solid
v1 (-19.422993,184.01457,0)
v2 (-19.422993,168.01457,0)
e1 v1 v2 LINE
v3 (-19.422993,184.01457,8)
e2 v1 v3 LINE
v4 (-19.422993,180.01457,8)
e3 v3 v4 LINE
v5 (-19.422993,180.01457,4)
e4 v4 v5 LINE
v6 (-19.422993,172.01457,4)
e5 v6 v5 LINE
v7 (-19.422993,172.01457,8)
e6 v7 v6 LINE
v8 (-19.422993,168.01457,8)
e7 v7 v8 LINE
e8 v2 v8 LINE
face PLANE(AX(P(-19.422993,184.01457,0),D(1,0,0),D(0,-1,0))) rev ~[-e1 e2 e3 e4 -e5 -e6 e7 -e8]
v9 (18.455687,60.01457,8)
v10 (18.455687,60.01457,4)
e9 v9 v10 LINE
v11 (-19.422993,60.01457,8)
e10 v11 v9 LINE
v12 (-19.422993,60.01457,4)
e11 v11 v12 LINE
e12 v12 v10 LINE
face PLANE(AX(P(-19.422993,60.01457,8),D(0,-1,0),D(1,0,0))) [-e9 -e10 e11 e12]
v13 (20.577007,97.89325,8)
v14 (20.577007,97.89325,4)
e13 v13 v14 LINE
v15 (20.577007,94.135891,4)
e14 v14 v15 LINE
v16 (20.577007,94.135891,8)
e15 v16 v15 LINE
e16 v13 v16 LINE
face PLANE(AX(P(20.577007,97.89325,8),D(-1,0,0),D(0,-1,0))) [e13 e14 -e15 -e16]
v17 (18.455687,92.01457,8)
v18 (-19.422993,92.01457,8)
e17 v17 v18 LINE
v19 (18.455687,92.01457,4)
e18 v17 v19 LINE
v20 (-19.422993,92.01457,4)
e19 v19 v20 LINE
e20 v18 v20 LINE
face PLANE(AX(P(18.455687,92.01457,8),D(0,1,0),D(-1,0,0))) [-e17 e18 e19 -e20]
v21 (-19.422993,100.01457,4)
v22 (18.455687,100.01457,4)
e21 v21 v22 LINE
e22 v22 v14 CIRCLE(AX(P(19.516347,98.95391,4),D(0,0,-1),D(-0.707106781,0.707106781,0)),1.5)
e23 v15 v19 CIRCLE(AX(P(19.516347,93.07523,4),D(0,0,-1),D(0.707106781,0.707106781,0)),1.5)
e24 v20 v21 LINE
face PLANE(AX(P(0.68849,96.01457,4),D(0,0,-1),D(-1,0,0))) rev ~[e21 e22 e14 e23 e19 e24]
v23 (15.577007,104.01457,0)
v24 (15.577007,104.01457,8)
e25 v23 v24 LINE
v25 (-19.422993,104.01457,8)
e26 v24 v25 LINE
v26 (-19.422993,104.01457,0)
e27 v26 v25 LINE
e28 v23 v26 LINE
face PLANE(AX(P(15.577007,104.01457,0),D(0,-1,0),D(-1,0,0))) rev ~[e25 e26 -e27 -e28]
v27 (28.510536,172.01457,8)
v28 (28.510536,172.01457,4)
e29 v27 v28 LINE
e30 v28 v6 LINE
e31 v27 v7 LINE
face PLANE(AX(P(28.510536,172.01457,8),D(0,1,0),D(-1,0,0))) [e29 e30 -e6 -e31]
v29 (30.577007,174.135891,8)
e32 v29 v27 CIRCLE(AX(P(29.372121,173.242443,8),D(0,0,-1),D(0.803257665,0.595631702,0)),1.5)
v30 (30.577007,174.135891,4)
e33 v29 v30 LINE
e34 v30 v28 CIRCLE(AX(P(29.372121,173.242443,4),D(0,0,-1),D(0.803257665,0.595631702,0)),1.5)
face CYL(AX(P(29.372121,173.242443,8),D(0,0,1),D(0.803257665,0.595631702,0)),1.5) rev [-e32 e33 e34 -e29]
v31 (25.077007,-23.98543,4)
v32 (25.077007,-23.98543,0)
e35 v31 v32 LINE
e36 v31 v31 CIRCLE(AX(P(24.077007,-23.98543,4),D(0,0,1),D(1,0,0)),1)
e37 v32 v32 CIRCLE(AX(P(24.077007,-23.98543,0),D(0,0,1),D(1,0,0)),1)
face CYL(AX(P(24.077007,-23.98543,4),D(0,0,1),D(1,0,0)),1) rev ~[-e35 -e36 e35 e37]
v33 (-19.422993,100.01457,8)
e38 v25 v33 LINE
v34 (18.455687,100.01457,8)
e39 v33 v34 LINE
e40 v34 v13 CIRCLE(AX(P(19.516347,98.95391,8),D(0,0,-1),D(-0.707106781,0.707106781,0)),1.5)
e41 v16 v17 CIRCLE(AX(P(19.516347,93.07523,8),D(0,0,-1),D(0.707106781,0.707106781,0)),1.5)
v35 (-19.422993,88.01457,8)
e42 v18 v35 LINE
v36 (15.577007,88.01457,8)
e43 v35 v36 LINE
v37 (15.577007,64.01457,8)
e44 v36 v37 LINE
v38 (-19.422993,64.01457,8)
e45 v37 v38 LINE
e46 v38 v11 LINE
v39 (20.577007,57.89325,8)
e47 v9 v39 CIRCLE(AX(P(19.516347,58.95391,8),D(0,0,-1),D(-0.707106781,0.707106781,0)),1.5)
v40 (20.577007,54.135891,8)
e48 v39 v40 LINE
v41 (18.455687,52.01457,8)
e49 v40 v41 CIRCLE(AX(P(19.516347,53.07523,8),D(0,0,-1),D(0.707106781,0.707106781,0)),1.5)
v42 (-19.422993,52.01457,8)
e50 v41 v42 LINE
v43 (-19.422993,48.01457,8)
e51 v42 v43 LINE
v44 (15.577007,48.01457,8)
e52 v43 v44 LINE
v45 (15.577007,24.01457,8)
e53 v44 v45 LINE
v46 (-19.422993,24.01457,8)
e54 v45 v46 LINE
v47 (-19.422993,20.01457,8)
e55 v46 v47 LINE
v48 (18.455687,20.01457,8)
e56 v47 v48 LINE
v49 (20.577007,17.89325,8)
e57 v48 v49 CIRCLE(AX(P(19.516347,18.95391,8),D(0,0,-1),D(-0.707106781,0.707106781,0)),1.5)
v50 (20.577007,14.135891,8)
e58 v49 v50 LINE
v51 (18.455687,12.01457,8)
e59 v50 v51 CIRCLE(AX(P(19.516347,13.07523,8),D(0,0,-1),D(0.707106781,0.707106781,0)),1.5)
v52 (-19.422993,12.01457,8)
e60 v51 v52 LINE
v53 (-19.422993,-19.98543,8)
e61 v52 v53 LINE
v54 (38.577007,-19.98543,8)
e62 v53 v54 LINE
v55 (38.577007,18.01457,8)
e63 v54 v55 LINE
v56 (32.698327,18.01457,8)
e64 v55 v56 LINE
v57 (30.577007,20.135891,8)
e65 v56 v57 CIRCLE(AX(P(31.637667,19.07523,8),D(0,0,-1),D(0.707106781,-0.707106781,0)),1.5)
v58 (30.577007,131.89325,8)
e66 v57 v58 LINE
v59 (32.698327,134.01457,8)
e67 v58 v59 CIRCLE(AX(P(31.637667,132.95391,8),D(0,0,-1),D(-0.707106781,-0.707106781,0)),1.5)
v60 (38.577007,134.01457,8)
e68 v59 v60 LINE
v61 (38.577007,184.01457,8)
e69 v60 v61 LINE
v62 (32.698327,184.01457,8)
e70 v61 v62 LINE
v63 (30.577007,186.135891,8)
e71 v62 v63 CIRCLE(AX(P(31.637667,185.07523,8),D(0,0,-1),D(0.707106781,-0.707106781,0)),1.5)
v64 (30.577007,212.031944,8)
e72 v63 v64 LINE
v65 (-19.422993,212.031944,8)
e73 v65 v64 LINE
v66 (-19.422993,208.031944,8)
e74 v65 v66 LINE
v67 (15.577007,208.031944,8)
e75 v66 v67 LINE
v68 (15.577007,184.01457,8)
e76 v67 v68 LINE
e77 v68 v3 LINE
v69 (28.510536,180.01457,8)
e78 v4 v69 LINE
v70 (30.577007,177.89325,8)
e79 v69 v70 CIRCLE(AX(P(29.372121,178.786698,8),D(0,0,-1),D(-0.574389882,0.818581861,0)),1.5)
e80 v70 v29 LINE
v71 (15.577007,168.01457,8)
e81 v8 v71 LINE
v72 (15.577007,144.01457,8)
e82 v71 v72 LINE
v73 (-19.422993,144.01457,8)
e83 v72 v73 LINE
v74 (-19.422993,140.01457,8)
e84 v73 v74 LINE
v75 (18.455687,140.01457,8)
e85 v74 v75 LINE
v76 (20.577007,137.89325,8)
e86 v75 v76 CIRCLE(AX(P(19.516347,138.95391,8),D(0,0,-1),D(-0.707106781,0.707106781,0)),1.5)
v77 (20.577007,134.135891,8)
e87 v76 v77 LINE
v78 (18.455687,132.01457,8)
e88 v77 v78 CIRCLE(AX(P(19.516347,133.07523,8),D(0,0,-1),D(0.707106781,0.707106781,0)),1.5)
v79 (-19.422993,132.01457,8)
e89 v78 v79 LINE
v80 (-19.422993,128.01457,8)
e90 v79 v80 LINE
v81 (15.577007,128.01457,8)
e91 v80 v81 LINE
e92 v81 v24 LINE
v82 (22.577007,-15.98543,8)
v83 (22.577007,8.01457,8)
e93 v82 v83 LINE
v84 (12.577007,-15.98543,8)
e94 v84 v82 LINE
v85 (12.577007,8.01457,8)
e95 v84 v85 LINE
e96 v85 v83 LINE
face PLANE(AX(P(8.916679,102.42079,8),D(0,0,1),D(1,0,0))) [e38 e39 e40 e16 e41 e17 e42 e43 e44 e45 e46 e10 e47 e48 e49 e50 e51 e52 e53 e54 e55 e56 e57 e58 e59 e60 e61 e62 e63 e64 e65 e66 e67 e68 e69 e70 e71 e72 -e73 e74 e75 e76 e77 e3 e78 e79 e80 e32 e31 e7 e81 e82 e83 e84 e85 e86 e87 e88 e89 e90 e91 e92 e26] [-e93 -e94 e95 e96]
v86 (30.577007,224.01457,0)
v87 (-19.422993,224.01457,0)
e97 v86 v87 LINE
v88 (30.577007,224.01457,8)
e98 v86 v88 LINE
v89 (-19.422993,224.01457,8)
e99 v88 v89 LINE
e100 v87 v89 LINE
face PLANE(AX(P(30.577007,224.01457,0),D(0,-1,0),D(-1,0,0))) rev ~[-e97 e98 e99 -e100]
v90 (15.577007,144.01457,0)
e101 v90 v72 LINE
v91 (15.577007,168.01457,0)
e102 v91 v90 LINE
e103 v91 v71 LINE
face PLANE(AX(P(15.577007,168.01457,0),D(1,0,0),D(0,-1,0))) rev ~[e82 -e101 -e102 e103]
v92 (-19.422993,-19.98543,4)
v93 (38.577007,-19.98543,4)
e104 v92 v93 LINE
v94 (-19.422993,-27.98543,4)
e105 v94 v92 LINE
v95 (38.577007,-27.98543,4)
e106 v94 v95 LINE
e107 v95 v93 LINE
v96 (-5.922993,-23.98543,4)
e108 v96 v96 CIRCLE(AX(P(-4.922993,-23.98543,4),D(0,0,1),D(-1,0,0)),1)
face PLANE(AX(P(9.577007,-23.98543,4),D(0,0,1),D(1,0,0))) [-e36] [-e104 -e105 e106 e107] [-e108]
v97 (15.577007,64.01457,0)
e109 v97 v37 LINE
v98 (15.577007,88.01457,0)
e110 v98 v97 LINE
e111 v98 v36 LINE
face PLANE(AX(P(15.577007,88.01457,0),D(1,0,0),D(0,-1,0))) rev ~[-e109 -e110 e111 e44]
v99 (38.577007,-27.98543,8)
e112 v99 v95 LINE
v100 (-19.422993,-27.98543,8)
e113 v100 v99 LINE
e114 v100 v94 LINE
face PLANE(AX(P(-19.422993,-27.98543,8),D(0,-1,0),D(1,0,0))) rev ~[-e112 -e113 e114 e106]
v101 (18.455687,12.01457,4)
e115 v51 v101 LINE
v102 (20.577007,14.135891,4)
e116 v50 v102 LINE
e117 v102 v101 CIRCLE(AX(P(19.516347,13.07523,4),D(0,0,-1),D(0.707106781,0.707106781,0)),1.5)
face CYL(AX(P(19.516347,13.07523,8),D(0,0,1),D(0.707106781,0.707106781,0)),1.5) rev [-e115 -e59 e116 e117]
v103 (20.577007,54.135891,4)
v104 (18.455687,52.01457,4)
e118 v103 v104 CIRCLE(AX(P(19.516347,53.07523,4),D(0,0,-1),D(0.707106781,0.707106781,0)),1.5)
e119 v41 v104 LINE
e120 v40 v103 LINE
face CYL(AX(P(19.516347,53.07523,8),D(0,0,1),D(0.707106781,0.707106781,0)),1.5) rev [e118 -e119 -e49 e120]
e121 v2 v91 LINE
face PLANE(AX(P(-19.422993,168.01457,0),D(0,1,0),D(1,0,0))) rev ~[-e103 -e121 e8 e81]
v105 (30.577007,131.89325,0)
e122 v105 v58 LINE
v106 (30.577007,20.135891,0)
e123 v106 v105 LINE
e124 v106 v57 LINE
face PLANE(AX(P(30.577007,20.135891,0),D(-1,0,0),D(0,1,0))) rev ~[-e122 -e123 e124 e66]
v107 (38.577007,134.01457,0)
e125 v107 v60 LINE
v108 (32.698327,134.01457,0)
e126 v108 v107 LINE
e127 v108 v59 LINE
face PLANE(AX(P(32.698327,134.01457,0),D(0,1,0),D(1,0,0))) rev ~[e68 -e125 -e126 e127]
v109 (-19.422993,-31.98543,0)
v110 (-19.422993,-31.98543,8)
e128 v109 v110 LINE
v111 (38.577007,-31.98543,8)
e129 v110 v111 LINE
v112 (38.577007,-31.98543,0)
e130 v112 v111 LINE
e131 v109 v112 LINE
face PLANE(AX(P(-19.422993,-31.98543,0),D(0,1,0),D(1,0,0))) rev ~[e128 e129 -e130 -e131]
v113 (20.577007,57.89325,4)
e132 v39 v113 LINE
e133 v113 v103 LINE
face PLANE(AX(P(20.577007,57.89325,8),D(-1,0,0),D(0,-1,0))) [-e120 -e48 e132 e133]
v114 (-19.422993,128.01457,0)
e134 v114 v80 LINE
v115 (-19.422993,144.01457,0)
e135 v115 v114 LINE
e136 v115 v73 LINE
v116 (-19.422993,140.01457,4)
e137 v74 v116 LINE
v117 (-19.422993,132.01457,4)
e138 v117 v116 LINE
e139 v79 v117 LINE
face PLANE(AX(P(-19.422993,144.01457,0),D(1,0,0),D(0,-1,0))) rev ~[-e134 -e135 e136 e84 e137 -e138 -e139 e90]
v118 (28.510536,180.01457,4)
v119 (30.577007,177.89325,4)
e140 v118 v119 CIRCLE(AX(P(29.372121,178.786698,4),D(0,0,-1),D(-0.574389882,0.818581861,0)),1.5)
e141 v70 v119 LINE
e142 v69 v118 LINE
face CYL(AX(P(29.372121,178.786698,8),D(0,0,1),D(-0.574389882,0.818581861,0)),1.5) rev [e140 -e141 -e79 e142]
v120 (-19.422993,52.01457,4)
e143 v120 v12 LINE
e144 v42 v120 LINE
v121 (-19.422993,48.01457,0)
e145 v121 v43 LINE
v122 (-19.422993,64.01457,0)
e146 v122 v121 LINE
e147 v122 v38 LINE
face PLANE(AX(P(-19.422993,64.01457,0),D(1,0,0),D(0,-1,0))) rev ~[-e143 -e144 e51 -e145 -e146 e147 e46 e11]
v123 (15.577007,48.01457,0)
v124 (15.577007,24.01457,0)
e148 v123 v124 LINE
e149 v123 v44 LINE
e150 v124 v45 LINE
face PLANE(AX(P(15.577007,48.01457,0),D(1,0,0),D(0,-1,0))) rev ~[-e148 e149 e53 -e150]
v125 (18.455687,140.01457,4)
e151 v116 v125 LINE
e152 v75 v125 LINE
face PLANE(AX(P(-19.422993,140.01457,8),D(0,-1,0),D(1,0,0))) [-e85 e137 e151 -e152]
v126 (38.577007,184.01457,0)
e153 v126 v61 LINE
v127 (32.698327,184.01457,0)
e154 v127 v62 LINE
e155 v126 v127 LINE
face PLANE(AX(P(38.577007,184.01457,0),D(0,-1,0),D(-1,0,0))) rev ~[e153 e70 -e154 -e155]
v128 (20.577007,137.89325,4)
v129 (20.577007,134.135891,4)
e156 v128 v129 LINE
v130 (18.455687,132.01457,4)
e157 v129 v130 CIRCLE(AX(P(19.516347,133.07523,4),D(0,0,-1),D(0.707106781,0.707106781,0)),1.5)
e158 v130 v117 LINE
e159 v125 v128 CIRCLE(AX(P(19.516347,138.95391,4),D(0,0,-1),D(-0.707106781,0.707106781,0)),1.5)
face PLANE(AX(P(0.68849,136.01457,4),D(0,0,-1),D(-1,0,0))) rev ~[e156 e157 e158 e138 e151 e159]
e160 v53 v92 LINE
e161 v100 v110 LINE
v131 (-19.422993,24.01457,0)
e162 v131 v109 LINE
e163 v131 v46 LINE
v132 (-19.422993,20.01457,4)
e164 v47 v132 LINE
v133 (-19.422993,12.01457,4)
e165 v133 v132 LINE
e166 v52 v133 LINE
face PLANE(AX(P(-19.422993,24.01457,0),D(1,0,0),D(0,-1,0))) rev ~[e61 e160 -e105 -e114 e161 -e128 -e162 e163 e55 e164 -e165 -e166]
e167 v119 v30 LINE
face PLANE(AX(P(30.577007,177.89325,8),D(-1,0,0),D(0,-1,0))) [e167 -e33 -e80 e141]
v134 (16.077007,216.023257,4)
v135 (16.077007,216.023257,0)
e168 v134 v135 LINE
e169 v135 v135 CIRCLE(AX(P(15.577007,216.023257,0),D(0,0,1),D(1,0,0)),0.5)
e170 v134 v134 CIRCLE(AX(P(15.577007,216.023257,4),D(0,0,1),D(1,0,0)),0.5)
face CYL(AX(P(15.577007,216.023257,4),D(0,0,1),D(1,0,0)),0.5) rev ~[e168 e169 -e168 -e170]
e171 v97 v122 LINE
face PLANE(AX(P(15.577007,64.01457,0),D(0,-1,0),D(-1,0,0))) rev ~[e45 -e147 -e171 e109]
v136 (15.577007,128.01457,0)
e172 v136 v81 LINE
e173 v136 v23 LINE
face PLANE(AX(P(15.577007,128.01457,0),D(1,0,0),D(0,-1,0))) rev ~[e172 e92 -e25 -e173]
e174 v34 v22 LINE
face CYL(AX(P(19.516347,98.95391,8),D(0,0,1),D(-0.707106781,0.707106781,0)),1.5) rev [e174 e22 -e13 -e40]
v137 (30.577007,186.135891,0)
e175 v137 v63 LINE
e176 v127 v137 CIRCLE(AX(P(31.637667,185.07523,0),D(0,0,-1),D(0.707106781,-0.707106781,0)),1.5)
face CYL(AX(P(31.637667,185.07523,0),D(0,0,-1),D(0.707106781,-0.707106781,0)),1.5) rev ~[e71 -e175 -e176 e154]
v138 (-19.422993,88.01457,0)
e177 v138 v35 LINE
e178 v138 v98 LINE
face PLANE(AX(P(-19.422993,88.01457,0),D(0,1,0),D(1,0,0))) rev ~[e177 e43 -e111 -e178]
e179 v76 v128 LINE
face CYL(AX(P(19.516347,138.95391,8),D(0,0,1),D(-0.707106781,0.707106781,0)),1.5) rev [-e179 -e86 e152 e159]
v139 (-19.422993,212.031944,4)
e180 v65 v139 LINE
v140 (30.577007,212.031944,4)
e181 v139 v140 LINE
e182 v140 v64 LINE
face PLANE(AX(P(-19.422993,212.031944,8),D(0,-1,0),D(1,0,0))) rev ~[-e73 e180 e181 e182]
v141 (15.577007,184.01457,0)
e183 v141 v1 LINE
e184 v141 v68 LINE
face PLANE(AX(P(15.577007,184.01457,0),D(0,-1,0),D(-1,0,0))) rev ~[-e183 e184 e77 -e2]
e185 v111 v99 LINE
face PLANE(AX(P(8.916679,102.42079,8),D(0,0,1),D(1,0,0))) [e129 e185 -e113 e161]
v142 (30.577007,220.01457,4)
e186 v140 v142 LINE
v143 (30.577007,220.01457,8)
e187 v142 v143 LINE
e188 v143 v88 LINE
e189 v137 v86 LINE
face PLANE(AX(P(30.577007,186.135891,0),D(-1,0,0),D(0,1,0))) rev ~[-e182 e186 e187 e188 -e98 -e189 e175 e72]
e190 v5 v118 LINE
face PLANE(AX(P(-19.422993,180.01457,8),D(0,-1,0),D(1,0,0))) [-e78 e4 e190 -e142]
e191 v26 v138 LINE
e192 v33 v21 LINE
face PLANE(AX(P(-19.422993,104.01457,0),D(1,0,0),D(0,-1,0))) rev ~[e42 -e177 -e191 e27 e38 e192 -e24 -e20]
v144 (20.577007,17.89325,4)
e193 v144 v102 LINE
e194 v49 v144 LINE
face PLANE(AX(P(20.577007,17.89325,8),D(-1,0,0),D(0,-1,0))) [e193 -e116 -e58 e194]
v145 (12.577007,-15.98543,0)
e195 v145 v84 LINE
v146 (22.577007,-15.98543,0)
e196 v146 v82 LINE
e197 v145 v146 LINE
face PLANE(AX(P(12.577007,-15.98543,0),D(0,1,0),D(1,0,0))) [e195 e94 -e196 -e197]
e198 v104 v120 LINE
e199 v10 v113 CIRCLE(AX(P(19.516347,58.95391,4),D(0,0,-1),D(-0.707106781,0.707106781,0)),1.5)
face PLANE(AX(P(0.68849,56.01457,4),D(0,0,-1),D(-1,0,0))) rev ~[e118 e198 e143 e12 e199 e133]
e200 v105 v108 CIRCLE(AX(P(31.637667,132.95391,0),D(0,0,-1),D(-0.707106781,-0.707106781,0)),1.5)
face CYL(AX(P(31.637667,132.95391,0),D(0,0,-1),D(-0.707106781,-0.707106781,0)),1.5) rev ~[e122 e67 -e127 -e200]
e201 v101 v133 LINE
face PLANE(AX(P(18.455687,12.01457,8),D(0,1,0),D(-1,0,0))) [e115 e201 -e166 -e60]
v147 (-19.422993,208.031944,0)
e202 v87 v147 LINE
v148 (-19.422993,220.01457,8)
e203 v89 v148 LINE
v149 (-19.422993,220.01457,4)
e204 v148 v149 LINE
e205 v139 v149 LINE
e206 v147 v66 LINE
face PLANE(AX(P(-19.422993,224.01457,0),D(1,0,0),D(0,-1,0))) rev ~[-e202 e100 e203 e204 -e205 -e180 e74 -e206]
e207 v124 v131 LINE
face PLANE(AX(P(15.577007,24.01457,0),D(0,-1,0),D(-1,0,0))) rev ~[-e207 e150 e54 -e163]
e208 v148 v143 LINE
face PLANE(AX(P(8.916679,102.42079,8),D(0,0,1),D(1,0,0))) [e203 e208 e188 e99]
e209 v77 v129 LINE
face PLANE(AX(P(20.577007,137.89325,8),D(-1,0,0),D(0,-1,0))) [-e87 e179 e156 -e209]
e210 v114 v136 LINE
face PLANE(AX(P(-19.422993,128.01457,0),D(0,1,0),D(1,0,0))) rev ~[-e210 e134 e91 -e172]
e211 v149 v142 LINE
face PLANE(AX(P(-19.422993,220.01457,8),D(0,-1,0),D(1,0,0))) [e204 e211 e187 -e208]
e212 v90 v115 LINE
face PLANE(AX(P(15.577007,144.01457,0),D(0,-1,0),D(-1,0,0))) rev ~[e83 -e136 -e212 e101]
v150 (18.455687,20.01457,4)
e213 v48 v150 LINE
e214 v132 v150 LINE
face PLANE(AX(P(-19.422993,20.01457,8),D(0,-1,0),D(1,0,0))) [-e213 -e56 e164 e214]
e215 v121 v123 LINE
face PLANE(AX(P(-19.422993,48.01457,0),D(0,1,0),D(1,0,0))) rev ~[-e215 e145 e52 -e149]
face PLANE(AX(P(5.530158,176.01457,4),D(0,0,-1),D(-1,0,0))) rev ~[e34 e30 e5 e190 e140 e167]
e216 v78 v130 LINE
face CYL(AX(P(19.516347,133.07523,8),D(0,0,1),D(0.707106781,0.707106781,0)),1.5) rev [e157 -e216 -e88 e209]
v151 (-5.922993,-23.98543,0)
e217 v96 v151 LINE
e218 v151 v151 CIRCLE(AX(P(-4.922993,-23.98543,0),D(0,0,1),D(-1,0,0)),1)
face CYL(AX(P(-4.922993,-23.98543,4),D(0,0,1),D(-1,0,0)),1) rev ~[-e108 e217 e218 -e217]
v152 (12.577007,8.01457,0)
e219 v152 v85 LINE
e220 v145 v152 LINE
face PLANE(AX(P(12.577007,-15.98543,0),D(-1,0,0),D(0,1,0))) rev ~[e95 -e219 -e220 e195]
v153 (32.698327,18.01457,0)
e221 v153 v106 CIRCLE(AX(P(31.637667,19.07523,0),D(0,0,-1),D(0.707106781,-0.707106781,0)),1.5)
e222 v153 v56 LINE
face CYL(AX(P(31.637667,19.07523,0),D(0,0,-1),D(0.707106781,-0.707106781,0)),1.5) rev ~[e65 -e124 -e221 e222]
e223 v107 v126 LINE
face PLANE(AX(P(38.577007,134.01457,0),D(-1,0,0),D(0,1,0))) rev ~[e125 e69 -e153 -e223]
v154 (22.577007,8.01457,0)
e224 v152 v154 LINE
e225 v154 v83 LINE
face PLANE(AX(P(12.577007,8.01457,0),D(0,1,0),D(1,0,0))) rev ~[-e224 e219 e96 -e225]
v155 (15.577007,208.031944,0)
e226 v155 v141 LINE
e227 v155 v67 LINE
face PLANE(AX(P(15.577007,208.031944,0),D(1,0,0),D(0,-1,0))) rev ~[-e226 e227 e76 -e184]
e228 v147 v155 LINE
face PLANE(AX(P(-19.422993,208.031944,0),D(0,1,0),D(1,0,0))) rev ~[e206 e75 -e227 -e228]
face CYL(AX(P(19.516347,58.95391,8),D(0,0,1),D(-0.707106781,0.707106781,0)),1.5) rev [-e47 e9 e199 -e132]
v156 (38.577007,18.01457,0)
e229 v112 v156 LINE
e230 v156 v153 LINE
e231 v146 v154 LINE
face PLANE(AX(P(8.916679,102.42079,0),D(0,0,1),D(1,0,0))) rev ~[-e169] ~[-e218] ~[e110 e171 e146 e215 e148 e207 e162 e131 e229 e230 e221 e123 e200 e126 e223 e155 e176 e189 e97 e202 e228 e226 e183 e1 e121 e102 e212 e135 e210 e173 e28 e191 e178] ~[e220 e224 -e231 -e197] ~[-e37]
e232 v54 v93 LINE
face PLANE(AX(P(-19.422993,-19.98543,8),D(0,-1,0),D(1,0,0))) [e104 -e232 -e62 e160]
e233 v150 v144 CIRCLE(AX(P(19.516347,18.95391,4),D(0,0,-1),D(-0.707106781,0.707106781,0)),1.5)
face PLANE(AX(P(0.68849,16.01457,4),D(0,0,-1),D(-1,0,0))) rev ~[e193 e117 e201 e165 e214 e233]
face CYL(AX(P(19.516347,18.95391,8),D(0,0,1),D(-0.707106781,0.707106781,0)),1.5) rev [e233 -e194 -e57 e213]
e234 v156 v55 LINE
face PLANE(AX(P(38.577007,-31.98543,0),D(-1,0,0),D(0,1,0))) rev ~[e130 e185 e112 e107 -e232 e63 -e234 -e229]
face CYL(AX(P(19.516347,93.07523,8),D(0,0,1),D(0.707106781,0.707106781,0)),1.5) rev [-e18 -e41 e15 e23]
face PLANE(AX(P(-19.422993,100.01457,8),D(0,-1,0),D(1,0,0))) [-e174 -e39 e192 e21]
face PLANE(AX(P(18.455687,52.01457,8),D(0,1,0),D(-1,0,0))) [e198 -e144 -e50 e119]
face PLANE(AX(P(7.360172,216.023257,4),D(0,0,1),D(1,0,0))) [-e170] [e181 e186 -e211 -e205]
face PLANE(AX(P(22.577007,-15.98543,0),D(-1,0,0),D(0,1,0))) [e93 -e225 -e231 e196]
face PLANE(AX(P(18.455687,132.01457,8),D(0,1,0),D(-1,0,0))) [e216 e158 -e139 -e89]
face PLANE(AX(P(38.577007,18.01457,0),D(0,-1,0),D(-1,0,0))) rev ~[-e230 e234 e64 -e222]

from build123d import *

# Parameters (mm, degrees)
ESQUISSE1_W             = 10
ESQUISSE1_H             = 24
BOSS_EXTRU_1_DEPTH      = 8
ESQUISSE2_W             = 53.566329485
ESQUISSE2_H             = 7.982626226
ESQUISSE2_W_2           = 58
ESQUISSE2_H_2           = 8
ENL_V_MAT_EXTRU_1_DEPTH = 4
ESQUISSE3_R             = 0.5
ESQUISSE3_R_2           = 1
ENL_V_MAT_EXTRU_2_DEPTH = 4


with BuildPart() as part:
    # Esquisse1 → Boss.-Extru.1 (new body)
    with BuildSketch(Plane.XY):
        with BuildLine():
            Line((30.577007139, 186.135890651), (30.577007139, 224.014570308))
            Line((30.577007139, 224.014570308), (-19.422992861, 224.014570308))
            Line((-19.422992861, 224.014570308), (-19.422992861, 208.031944082))
            Line((-19.422992861, 208.031944082), (15.577007139, 208.031944082))
            Line((15.577007139, 208.031944082), (15.577007139, 184.014570308))
            Line((15.577007139, 184.014570308), (-19.422992861, 184.014570308))
            Line((-19.422992861, 184.014570308), (-19.422992861, 168.014570308))
            Line((-19.422992861, 168.014570308), (15.577007139, 168.014570308))
            Line((15.577007139, 168.014570308), (15.577007139, 144.014570308))
            Line((15.577007139, 144.014570308), (-19.422992861, 144.014570308))
            Line((-19.422992861, 144.014570308), (-19.422992861, 128.014570308))
            Line((-19.422992861, 128.014570308), (15.577007139, 128.014570308))
            Line((15.577007139, 128.014570308), (15.577007139, 104.014570308))
            Line((15.577007139, 104.014570308), (-19.422992861, 104.014570308))
            Line((-19.422992861, 104.014570308), (-19.422992861, 88.014570308))
            Line((-19.422992861, 88.014570308), (15.577007139, 88.014570308))
            Line((15.577007139, 88.014570308), (15.577007139, 64.014570308))
            Line((15.577007139, 64.014570308), (-19.422992861, 64.014570308))
            Line((-19.422992861, 64.014570308), (-19.422992861, 48.014570308))
            Line((-19.422992861, 48.014570308), (15.577007139, 48.014570308))
            Line((15.577007139, 48.014570308), (15.577007139, 24.014570308))
            Line((15.577007139, 24.014570308), (-19.422992861, 24.014570308))
            Line((-19.422992861, 24.014570308), (-19.422992861, -31.985429692))
            Line((-19.422992861, -31.985429692), (30.577007139, -31.985429692))
            Line((30.577007139, -31.985429692), (38.577007139, -31.985429692))
            Line((38.577007139, -31.985429692), (38.577007139, 18.014570308))
            Line((38.577007139, 18.014570308), (32.698327483, 18.014570308))
            ThreePointArc((32.698327483, 18.014570308), (30.577007139, 18.014570308), (30.577007139, 20.135890651))
            Line((30.577007139, 20.135890651), (30.577007139, 131.893249964))
            ThreePointArc((30.577007139, 131.893249964), (30.577007139, 134.014570308), (32.698327483, 134.014570308))
            Line((32.698327483, 134.014570308), (38.577007139, 134.014570308))
            Line((38.577007139, 134.014570308), (38.577007139, 184.014570308))
            Line((38.577007139, 184.014570308), (32.698327483, 184.014570308))
            ThreePointArc((32.698327483, 184.014570308), (30.577007139, 184.014570308), (30.577007139, 186.135890651))
        make_face()
        with Locations((17.577007139, -3.985429692)):
            Rectangle(ESQUISSE1_W, ESQUISSE1_H, mode=Mode.SUBTRACT)
    extrude(amount=BOSS_EXTRU_1_DEPTH)

    # Esquisse2 → Enlèv. mat.-Extru.1 (cut)
    with BuildSketch(Plane.XY.offset(8)):
        with BuildLine():
            Line((-19.422992861, 140.014570308), (18.455686796, 140.014570308))
            ThreePointArc((18.455686796, 140.014570308), (20.577007139, 140.014570308), (20.577007139, 137.893249964))
            Line((20.577007139, 137.893249964), (20.577007139, 134.135890651))
            ThreePointArc((20.577007139, 134.135890651), (20.577007139, 132.014570308), (18.455686796, 132.014570308))
            Line((18.455686796, 132.014570308), (-19.422992861, 132.014570308))
            Line((-19.422992861, 132.014570308), (-19.422992861, 140.014570308))
        make_face()
        with BuildLine():
            Line((-19.422992861, 100.014570308), (18.455686796, 100.014570308))
            ThreePointArc((18.455686796, 100.014570308), (20.577007139, 100.014570308), (20.577007139, 97.893249964))
            Line((20.577007139, 97.893249964), (20.577007139, 94.135890651))
            ThreePointArc((20.577007139, 94.135890651), (20.577007139, 92.014570308), (18.455686796, 92.014570308))
            Line((18.455686796, 92.014570308), (-19.422992861, 92.014570308))
            Line((-19.422992861, 92.014570308), (-19.422992861, 100.014570308))
        make_face()
        with BuildLine():
            Line((-19.422992861, 60.014570308), (18.455686796, 60.014570308))
            ThreePointArc((18.455686796, 60.014570308), (20.577007139, 60.014570308), (20.577007139, 57.893249964))
            Line((20.577007139, 57.893249964), (20.577007139, 54.135890651))
            ThreePointArc((20.577007139, 54.135890651), (20.577007139, 52.014570308), (18.455686796, 52.014570308))
            Line((18.455686796, 52.014570308), (-19.422992861, 52.014570308))
            Line((-19.422992861, 52.014570308), (-19.422992861, 60.014570308))
        make_face()
        with BuildLine():
            Line((-19.422992861, 180.014570308), (28.510535818, 180.014570308))
            ThreePointArc((28.510535818, 180.014570308), (30.446580511, 179.833376068), (30.577007139, 177.893249964))
            Line((30.577007139, 177.893249964), (30.577007139, 174.135890651))
            ThreePointArc((30.577007139, 174.135890651), (30.446580511, 172.195764547), (28.510535818, 172.014570308))
            Line((28.510535818, 172.014570308), (-19.422992861, 172.014570308))
            Line((-19.422992861, 172.014570308), (-19.422992861, 180.014570308))
        make_face()
        with BuildLine():
            Line((-19.422992861, 20.014570308), (18.455686796, 20.014570308))
            ThreePointArc((18.455686796, 20.014570308), (20.577007139, 20.014570308), (20.577007139, 17.893249964))
            Line((20.577007139, 17.893249964), (20.577007139, 14.135890651))
            ThreePointArc((20.577007139, 14.135890651), (20.577007139, 12.014570308), (18.455686796, 12.014570308))
            Line((18.455686796, 12.014570308), (-19.422992861, 12.014570308))
            Line((-19.422992861, 12.014570308), (-19.422992861, 20.014570308))
        make_face()
        with Locations((7.360171881, 216.023257195)):
            Rectangle(ESQUISSE2_W, ESQUISSE2_H)
        with Locations((9.577007139, -23.985429692)):
            Rectangle(ESQUISSE2_W_2, ESQUISSE2_H_2)
    extrude(amount=-ENL_V_MAT_EXTRU_1_DEPTH, mode=Mode.SUBTRACT)

    # Esquisse3 → Enlèv. mat.-Extru.2 (cut)
    with BuildSketch(Plane.XY.offset(4)):
        with Locations((15.577007139, 216.023257195)):
            Circle(ESQUISSE3_R)
        with Locations((24.077007139, -23.985429692)):
            Circle(ESQUISSE3_R_2)
        with Locations(Location((-4.922992861, -23.985429692, 0), (0, 0, 180))):
            Circle(ESQUISSE3_R_2)
    extrude(amount=-ENL_V_MAT_EXTRU_2_DEPTH, mode=Mode.SUBTRACT)


solid = part.part
